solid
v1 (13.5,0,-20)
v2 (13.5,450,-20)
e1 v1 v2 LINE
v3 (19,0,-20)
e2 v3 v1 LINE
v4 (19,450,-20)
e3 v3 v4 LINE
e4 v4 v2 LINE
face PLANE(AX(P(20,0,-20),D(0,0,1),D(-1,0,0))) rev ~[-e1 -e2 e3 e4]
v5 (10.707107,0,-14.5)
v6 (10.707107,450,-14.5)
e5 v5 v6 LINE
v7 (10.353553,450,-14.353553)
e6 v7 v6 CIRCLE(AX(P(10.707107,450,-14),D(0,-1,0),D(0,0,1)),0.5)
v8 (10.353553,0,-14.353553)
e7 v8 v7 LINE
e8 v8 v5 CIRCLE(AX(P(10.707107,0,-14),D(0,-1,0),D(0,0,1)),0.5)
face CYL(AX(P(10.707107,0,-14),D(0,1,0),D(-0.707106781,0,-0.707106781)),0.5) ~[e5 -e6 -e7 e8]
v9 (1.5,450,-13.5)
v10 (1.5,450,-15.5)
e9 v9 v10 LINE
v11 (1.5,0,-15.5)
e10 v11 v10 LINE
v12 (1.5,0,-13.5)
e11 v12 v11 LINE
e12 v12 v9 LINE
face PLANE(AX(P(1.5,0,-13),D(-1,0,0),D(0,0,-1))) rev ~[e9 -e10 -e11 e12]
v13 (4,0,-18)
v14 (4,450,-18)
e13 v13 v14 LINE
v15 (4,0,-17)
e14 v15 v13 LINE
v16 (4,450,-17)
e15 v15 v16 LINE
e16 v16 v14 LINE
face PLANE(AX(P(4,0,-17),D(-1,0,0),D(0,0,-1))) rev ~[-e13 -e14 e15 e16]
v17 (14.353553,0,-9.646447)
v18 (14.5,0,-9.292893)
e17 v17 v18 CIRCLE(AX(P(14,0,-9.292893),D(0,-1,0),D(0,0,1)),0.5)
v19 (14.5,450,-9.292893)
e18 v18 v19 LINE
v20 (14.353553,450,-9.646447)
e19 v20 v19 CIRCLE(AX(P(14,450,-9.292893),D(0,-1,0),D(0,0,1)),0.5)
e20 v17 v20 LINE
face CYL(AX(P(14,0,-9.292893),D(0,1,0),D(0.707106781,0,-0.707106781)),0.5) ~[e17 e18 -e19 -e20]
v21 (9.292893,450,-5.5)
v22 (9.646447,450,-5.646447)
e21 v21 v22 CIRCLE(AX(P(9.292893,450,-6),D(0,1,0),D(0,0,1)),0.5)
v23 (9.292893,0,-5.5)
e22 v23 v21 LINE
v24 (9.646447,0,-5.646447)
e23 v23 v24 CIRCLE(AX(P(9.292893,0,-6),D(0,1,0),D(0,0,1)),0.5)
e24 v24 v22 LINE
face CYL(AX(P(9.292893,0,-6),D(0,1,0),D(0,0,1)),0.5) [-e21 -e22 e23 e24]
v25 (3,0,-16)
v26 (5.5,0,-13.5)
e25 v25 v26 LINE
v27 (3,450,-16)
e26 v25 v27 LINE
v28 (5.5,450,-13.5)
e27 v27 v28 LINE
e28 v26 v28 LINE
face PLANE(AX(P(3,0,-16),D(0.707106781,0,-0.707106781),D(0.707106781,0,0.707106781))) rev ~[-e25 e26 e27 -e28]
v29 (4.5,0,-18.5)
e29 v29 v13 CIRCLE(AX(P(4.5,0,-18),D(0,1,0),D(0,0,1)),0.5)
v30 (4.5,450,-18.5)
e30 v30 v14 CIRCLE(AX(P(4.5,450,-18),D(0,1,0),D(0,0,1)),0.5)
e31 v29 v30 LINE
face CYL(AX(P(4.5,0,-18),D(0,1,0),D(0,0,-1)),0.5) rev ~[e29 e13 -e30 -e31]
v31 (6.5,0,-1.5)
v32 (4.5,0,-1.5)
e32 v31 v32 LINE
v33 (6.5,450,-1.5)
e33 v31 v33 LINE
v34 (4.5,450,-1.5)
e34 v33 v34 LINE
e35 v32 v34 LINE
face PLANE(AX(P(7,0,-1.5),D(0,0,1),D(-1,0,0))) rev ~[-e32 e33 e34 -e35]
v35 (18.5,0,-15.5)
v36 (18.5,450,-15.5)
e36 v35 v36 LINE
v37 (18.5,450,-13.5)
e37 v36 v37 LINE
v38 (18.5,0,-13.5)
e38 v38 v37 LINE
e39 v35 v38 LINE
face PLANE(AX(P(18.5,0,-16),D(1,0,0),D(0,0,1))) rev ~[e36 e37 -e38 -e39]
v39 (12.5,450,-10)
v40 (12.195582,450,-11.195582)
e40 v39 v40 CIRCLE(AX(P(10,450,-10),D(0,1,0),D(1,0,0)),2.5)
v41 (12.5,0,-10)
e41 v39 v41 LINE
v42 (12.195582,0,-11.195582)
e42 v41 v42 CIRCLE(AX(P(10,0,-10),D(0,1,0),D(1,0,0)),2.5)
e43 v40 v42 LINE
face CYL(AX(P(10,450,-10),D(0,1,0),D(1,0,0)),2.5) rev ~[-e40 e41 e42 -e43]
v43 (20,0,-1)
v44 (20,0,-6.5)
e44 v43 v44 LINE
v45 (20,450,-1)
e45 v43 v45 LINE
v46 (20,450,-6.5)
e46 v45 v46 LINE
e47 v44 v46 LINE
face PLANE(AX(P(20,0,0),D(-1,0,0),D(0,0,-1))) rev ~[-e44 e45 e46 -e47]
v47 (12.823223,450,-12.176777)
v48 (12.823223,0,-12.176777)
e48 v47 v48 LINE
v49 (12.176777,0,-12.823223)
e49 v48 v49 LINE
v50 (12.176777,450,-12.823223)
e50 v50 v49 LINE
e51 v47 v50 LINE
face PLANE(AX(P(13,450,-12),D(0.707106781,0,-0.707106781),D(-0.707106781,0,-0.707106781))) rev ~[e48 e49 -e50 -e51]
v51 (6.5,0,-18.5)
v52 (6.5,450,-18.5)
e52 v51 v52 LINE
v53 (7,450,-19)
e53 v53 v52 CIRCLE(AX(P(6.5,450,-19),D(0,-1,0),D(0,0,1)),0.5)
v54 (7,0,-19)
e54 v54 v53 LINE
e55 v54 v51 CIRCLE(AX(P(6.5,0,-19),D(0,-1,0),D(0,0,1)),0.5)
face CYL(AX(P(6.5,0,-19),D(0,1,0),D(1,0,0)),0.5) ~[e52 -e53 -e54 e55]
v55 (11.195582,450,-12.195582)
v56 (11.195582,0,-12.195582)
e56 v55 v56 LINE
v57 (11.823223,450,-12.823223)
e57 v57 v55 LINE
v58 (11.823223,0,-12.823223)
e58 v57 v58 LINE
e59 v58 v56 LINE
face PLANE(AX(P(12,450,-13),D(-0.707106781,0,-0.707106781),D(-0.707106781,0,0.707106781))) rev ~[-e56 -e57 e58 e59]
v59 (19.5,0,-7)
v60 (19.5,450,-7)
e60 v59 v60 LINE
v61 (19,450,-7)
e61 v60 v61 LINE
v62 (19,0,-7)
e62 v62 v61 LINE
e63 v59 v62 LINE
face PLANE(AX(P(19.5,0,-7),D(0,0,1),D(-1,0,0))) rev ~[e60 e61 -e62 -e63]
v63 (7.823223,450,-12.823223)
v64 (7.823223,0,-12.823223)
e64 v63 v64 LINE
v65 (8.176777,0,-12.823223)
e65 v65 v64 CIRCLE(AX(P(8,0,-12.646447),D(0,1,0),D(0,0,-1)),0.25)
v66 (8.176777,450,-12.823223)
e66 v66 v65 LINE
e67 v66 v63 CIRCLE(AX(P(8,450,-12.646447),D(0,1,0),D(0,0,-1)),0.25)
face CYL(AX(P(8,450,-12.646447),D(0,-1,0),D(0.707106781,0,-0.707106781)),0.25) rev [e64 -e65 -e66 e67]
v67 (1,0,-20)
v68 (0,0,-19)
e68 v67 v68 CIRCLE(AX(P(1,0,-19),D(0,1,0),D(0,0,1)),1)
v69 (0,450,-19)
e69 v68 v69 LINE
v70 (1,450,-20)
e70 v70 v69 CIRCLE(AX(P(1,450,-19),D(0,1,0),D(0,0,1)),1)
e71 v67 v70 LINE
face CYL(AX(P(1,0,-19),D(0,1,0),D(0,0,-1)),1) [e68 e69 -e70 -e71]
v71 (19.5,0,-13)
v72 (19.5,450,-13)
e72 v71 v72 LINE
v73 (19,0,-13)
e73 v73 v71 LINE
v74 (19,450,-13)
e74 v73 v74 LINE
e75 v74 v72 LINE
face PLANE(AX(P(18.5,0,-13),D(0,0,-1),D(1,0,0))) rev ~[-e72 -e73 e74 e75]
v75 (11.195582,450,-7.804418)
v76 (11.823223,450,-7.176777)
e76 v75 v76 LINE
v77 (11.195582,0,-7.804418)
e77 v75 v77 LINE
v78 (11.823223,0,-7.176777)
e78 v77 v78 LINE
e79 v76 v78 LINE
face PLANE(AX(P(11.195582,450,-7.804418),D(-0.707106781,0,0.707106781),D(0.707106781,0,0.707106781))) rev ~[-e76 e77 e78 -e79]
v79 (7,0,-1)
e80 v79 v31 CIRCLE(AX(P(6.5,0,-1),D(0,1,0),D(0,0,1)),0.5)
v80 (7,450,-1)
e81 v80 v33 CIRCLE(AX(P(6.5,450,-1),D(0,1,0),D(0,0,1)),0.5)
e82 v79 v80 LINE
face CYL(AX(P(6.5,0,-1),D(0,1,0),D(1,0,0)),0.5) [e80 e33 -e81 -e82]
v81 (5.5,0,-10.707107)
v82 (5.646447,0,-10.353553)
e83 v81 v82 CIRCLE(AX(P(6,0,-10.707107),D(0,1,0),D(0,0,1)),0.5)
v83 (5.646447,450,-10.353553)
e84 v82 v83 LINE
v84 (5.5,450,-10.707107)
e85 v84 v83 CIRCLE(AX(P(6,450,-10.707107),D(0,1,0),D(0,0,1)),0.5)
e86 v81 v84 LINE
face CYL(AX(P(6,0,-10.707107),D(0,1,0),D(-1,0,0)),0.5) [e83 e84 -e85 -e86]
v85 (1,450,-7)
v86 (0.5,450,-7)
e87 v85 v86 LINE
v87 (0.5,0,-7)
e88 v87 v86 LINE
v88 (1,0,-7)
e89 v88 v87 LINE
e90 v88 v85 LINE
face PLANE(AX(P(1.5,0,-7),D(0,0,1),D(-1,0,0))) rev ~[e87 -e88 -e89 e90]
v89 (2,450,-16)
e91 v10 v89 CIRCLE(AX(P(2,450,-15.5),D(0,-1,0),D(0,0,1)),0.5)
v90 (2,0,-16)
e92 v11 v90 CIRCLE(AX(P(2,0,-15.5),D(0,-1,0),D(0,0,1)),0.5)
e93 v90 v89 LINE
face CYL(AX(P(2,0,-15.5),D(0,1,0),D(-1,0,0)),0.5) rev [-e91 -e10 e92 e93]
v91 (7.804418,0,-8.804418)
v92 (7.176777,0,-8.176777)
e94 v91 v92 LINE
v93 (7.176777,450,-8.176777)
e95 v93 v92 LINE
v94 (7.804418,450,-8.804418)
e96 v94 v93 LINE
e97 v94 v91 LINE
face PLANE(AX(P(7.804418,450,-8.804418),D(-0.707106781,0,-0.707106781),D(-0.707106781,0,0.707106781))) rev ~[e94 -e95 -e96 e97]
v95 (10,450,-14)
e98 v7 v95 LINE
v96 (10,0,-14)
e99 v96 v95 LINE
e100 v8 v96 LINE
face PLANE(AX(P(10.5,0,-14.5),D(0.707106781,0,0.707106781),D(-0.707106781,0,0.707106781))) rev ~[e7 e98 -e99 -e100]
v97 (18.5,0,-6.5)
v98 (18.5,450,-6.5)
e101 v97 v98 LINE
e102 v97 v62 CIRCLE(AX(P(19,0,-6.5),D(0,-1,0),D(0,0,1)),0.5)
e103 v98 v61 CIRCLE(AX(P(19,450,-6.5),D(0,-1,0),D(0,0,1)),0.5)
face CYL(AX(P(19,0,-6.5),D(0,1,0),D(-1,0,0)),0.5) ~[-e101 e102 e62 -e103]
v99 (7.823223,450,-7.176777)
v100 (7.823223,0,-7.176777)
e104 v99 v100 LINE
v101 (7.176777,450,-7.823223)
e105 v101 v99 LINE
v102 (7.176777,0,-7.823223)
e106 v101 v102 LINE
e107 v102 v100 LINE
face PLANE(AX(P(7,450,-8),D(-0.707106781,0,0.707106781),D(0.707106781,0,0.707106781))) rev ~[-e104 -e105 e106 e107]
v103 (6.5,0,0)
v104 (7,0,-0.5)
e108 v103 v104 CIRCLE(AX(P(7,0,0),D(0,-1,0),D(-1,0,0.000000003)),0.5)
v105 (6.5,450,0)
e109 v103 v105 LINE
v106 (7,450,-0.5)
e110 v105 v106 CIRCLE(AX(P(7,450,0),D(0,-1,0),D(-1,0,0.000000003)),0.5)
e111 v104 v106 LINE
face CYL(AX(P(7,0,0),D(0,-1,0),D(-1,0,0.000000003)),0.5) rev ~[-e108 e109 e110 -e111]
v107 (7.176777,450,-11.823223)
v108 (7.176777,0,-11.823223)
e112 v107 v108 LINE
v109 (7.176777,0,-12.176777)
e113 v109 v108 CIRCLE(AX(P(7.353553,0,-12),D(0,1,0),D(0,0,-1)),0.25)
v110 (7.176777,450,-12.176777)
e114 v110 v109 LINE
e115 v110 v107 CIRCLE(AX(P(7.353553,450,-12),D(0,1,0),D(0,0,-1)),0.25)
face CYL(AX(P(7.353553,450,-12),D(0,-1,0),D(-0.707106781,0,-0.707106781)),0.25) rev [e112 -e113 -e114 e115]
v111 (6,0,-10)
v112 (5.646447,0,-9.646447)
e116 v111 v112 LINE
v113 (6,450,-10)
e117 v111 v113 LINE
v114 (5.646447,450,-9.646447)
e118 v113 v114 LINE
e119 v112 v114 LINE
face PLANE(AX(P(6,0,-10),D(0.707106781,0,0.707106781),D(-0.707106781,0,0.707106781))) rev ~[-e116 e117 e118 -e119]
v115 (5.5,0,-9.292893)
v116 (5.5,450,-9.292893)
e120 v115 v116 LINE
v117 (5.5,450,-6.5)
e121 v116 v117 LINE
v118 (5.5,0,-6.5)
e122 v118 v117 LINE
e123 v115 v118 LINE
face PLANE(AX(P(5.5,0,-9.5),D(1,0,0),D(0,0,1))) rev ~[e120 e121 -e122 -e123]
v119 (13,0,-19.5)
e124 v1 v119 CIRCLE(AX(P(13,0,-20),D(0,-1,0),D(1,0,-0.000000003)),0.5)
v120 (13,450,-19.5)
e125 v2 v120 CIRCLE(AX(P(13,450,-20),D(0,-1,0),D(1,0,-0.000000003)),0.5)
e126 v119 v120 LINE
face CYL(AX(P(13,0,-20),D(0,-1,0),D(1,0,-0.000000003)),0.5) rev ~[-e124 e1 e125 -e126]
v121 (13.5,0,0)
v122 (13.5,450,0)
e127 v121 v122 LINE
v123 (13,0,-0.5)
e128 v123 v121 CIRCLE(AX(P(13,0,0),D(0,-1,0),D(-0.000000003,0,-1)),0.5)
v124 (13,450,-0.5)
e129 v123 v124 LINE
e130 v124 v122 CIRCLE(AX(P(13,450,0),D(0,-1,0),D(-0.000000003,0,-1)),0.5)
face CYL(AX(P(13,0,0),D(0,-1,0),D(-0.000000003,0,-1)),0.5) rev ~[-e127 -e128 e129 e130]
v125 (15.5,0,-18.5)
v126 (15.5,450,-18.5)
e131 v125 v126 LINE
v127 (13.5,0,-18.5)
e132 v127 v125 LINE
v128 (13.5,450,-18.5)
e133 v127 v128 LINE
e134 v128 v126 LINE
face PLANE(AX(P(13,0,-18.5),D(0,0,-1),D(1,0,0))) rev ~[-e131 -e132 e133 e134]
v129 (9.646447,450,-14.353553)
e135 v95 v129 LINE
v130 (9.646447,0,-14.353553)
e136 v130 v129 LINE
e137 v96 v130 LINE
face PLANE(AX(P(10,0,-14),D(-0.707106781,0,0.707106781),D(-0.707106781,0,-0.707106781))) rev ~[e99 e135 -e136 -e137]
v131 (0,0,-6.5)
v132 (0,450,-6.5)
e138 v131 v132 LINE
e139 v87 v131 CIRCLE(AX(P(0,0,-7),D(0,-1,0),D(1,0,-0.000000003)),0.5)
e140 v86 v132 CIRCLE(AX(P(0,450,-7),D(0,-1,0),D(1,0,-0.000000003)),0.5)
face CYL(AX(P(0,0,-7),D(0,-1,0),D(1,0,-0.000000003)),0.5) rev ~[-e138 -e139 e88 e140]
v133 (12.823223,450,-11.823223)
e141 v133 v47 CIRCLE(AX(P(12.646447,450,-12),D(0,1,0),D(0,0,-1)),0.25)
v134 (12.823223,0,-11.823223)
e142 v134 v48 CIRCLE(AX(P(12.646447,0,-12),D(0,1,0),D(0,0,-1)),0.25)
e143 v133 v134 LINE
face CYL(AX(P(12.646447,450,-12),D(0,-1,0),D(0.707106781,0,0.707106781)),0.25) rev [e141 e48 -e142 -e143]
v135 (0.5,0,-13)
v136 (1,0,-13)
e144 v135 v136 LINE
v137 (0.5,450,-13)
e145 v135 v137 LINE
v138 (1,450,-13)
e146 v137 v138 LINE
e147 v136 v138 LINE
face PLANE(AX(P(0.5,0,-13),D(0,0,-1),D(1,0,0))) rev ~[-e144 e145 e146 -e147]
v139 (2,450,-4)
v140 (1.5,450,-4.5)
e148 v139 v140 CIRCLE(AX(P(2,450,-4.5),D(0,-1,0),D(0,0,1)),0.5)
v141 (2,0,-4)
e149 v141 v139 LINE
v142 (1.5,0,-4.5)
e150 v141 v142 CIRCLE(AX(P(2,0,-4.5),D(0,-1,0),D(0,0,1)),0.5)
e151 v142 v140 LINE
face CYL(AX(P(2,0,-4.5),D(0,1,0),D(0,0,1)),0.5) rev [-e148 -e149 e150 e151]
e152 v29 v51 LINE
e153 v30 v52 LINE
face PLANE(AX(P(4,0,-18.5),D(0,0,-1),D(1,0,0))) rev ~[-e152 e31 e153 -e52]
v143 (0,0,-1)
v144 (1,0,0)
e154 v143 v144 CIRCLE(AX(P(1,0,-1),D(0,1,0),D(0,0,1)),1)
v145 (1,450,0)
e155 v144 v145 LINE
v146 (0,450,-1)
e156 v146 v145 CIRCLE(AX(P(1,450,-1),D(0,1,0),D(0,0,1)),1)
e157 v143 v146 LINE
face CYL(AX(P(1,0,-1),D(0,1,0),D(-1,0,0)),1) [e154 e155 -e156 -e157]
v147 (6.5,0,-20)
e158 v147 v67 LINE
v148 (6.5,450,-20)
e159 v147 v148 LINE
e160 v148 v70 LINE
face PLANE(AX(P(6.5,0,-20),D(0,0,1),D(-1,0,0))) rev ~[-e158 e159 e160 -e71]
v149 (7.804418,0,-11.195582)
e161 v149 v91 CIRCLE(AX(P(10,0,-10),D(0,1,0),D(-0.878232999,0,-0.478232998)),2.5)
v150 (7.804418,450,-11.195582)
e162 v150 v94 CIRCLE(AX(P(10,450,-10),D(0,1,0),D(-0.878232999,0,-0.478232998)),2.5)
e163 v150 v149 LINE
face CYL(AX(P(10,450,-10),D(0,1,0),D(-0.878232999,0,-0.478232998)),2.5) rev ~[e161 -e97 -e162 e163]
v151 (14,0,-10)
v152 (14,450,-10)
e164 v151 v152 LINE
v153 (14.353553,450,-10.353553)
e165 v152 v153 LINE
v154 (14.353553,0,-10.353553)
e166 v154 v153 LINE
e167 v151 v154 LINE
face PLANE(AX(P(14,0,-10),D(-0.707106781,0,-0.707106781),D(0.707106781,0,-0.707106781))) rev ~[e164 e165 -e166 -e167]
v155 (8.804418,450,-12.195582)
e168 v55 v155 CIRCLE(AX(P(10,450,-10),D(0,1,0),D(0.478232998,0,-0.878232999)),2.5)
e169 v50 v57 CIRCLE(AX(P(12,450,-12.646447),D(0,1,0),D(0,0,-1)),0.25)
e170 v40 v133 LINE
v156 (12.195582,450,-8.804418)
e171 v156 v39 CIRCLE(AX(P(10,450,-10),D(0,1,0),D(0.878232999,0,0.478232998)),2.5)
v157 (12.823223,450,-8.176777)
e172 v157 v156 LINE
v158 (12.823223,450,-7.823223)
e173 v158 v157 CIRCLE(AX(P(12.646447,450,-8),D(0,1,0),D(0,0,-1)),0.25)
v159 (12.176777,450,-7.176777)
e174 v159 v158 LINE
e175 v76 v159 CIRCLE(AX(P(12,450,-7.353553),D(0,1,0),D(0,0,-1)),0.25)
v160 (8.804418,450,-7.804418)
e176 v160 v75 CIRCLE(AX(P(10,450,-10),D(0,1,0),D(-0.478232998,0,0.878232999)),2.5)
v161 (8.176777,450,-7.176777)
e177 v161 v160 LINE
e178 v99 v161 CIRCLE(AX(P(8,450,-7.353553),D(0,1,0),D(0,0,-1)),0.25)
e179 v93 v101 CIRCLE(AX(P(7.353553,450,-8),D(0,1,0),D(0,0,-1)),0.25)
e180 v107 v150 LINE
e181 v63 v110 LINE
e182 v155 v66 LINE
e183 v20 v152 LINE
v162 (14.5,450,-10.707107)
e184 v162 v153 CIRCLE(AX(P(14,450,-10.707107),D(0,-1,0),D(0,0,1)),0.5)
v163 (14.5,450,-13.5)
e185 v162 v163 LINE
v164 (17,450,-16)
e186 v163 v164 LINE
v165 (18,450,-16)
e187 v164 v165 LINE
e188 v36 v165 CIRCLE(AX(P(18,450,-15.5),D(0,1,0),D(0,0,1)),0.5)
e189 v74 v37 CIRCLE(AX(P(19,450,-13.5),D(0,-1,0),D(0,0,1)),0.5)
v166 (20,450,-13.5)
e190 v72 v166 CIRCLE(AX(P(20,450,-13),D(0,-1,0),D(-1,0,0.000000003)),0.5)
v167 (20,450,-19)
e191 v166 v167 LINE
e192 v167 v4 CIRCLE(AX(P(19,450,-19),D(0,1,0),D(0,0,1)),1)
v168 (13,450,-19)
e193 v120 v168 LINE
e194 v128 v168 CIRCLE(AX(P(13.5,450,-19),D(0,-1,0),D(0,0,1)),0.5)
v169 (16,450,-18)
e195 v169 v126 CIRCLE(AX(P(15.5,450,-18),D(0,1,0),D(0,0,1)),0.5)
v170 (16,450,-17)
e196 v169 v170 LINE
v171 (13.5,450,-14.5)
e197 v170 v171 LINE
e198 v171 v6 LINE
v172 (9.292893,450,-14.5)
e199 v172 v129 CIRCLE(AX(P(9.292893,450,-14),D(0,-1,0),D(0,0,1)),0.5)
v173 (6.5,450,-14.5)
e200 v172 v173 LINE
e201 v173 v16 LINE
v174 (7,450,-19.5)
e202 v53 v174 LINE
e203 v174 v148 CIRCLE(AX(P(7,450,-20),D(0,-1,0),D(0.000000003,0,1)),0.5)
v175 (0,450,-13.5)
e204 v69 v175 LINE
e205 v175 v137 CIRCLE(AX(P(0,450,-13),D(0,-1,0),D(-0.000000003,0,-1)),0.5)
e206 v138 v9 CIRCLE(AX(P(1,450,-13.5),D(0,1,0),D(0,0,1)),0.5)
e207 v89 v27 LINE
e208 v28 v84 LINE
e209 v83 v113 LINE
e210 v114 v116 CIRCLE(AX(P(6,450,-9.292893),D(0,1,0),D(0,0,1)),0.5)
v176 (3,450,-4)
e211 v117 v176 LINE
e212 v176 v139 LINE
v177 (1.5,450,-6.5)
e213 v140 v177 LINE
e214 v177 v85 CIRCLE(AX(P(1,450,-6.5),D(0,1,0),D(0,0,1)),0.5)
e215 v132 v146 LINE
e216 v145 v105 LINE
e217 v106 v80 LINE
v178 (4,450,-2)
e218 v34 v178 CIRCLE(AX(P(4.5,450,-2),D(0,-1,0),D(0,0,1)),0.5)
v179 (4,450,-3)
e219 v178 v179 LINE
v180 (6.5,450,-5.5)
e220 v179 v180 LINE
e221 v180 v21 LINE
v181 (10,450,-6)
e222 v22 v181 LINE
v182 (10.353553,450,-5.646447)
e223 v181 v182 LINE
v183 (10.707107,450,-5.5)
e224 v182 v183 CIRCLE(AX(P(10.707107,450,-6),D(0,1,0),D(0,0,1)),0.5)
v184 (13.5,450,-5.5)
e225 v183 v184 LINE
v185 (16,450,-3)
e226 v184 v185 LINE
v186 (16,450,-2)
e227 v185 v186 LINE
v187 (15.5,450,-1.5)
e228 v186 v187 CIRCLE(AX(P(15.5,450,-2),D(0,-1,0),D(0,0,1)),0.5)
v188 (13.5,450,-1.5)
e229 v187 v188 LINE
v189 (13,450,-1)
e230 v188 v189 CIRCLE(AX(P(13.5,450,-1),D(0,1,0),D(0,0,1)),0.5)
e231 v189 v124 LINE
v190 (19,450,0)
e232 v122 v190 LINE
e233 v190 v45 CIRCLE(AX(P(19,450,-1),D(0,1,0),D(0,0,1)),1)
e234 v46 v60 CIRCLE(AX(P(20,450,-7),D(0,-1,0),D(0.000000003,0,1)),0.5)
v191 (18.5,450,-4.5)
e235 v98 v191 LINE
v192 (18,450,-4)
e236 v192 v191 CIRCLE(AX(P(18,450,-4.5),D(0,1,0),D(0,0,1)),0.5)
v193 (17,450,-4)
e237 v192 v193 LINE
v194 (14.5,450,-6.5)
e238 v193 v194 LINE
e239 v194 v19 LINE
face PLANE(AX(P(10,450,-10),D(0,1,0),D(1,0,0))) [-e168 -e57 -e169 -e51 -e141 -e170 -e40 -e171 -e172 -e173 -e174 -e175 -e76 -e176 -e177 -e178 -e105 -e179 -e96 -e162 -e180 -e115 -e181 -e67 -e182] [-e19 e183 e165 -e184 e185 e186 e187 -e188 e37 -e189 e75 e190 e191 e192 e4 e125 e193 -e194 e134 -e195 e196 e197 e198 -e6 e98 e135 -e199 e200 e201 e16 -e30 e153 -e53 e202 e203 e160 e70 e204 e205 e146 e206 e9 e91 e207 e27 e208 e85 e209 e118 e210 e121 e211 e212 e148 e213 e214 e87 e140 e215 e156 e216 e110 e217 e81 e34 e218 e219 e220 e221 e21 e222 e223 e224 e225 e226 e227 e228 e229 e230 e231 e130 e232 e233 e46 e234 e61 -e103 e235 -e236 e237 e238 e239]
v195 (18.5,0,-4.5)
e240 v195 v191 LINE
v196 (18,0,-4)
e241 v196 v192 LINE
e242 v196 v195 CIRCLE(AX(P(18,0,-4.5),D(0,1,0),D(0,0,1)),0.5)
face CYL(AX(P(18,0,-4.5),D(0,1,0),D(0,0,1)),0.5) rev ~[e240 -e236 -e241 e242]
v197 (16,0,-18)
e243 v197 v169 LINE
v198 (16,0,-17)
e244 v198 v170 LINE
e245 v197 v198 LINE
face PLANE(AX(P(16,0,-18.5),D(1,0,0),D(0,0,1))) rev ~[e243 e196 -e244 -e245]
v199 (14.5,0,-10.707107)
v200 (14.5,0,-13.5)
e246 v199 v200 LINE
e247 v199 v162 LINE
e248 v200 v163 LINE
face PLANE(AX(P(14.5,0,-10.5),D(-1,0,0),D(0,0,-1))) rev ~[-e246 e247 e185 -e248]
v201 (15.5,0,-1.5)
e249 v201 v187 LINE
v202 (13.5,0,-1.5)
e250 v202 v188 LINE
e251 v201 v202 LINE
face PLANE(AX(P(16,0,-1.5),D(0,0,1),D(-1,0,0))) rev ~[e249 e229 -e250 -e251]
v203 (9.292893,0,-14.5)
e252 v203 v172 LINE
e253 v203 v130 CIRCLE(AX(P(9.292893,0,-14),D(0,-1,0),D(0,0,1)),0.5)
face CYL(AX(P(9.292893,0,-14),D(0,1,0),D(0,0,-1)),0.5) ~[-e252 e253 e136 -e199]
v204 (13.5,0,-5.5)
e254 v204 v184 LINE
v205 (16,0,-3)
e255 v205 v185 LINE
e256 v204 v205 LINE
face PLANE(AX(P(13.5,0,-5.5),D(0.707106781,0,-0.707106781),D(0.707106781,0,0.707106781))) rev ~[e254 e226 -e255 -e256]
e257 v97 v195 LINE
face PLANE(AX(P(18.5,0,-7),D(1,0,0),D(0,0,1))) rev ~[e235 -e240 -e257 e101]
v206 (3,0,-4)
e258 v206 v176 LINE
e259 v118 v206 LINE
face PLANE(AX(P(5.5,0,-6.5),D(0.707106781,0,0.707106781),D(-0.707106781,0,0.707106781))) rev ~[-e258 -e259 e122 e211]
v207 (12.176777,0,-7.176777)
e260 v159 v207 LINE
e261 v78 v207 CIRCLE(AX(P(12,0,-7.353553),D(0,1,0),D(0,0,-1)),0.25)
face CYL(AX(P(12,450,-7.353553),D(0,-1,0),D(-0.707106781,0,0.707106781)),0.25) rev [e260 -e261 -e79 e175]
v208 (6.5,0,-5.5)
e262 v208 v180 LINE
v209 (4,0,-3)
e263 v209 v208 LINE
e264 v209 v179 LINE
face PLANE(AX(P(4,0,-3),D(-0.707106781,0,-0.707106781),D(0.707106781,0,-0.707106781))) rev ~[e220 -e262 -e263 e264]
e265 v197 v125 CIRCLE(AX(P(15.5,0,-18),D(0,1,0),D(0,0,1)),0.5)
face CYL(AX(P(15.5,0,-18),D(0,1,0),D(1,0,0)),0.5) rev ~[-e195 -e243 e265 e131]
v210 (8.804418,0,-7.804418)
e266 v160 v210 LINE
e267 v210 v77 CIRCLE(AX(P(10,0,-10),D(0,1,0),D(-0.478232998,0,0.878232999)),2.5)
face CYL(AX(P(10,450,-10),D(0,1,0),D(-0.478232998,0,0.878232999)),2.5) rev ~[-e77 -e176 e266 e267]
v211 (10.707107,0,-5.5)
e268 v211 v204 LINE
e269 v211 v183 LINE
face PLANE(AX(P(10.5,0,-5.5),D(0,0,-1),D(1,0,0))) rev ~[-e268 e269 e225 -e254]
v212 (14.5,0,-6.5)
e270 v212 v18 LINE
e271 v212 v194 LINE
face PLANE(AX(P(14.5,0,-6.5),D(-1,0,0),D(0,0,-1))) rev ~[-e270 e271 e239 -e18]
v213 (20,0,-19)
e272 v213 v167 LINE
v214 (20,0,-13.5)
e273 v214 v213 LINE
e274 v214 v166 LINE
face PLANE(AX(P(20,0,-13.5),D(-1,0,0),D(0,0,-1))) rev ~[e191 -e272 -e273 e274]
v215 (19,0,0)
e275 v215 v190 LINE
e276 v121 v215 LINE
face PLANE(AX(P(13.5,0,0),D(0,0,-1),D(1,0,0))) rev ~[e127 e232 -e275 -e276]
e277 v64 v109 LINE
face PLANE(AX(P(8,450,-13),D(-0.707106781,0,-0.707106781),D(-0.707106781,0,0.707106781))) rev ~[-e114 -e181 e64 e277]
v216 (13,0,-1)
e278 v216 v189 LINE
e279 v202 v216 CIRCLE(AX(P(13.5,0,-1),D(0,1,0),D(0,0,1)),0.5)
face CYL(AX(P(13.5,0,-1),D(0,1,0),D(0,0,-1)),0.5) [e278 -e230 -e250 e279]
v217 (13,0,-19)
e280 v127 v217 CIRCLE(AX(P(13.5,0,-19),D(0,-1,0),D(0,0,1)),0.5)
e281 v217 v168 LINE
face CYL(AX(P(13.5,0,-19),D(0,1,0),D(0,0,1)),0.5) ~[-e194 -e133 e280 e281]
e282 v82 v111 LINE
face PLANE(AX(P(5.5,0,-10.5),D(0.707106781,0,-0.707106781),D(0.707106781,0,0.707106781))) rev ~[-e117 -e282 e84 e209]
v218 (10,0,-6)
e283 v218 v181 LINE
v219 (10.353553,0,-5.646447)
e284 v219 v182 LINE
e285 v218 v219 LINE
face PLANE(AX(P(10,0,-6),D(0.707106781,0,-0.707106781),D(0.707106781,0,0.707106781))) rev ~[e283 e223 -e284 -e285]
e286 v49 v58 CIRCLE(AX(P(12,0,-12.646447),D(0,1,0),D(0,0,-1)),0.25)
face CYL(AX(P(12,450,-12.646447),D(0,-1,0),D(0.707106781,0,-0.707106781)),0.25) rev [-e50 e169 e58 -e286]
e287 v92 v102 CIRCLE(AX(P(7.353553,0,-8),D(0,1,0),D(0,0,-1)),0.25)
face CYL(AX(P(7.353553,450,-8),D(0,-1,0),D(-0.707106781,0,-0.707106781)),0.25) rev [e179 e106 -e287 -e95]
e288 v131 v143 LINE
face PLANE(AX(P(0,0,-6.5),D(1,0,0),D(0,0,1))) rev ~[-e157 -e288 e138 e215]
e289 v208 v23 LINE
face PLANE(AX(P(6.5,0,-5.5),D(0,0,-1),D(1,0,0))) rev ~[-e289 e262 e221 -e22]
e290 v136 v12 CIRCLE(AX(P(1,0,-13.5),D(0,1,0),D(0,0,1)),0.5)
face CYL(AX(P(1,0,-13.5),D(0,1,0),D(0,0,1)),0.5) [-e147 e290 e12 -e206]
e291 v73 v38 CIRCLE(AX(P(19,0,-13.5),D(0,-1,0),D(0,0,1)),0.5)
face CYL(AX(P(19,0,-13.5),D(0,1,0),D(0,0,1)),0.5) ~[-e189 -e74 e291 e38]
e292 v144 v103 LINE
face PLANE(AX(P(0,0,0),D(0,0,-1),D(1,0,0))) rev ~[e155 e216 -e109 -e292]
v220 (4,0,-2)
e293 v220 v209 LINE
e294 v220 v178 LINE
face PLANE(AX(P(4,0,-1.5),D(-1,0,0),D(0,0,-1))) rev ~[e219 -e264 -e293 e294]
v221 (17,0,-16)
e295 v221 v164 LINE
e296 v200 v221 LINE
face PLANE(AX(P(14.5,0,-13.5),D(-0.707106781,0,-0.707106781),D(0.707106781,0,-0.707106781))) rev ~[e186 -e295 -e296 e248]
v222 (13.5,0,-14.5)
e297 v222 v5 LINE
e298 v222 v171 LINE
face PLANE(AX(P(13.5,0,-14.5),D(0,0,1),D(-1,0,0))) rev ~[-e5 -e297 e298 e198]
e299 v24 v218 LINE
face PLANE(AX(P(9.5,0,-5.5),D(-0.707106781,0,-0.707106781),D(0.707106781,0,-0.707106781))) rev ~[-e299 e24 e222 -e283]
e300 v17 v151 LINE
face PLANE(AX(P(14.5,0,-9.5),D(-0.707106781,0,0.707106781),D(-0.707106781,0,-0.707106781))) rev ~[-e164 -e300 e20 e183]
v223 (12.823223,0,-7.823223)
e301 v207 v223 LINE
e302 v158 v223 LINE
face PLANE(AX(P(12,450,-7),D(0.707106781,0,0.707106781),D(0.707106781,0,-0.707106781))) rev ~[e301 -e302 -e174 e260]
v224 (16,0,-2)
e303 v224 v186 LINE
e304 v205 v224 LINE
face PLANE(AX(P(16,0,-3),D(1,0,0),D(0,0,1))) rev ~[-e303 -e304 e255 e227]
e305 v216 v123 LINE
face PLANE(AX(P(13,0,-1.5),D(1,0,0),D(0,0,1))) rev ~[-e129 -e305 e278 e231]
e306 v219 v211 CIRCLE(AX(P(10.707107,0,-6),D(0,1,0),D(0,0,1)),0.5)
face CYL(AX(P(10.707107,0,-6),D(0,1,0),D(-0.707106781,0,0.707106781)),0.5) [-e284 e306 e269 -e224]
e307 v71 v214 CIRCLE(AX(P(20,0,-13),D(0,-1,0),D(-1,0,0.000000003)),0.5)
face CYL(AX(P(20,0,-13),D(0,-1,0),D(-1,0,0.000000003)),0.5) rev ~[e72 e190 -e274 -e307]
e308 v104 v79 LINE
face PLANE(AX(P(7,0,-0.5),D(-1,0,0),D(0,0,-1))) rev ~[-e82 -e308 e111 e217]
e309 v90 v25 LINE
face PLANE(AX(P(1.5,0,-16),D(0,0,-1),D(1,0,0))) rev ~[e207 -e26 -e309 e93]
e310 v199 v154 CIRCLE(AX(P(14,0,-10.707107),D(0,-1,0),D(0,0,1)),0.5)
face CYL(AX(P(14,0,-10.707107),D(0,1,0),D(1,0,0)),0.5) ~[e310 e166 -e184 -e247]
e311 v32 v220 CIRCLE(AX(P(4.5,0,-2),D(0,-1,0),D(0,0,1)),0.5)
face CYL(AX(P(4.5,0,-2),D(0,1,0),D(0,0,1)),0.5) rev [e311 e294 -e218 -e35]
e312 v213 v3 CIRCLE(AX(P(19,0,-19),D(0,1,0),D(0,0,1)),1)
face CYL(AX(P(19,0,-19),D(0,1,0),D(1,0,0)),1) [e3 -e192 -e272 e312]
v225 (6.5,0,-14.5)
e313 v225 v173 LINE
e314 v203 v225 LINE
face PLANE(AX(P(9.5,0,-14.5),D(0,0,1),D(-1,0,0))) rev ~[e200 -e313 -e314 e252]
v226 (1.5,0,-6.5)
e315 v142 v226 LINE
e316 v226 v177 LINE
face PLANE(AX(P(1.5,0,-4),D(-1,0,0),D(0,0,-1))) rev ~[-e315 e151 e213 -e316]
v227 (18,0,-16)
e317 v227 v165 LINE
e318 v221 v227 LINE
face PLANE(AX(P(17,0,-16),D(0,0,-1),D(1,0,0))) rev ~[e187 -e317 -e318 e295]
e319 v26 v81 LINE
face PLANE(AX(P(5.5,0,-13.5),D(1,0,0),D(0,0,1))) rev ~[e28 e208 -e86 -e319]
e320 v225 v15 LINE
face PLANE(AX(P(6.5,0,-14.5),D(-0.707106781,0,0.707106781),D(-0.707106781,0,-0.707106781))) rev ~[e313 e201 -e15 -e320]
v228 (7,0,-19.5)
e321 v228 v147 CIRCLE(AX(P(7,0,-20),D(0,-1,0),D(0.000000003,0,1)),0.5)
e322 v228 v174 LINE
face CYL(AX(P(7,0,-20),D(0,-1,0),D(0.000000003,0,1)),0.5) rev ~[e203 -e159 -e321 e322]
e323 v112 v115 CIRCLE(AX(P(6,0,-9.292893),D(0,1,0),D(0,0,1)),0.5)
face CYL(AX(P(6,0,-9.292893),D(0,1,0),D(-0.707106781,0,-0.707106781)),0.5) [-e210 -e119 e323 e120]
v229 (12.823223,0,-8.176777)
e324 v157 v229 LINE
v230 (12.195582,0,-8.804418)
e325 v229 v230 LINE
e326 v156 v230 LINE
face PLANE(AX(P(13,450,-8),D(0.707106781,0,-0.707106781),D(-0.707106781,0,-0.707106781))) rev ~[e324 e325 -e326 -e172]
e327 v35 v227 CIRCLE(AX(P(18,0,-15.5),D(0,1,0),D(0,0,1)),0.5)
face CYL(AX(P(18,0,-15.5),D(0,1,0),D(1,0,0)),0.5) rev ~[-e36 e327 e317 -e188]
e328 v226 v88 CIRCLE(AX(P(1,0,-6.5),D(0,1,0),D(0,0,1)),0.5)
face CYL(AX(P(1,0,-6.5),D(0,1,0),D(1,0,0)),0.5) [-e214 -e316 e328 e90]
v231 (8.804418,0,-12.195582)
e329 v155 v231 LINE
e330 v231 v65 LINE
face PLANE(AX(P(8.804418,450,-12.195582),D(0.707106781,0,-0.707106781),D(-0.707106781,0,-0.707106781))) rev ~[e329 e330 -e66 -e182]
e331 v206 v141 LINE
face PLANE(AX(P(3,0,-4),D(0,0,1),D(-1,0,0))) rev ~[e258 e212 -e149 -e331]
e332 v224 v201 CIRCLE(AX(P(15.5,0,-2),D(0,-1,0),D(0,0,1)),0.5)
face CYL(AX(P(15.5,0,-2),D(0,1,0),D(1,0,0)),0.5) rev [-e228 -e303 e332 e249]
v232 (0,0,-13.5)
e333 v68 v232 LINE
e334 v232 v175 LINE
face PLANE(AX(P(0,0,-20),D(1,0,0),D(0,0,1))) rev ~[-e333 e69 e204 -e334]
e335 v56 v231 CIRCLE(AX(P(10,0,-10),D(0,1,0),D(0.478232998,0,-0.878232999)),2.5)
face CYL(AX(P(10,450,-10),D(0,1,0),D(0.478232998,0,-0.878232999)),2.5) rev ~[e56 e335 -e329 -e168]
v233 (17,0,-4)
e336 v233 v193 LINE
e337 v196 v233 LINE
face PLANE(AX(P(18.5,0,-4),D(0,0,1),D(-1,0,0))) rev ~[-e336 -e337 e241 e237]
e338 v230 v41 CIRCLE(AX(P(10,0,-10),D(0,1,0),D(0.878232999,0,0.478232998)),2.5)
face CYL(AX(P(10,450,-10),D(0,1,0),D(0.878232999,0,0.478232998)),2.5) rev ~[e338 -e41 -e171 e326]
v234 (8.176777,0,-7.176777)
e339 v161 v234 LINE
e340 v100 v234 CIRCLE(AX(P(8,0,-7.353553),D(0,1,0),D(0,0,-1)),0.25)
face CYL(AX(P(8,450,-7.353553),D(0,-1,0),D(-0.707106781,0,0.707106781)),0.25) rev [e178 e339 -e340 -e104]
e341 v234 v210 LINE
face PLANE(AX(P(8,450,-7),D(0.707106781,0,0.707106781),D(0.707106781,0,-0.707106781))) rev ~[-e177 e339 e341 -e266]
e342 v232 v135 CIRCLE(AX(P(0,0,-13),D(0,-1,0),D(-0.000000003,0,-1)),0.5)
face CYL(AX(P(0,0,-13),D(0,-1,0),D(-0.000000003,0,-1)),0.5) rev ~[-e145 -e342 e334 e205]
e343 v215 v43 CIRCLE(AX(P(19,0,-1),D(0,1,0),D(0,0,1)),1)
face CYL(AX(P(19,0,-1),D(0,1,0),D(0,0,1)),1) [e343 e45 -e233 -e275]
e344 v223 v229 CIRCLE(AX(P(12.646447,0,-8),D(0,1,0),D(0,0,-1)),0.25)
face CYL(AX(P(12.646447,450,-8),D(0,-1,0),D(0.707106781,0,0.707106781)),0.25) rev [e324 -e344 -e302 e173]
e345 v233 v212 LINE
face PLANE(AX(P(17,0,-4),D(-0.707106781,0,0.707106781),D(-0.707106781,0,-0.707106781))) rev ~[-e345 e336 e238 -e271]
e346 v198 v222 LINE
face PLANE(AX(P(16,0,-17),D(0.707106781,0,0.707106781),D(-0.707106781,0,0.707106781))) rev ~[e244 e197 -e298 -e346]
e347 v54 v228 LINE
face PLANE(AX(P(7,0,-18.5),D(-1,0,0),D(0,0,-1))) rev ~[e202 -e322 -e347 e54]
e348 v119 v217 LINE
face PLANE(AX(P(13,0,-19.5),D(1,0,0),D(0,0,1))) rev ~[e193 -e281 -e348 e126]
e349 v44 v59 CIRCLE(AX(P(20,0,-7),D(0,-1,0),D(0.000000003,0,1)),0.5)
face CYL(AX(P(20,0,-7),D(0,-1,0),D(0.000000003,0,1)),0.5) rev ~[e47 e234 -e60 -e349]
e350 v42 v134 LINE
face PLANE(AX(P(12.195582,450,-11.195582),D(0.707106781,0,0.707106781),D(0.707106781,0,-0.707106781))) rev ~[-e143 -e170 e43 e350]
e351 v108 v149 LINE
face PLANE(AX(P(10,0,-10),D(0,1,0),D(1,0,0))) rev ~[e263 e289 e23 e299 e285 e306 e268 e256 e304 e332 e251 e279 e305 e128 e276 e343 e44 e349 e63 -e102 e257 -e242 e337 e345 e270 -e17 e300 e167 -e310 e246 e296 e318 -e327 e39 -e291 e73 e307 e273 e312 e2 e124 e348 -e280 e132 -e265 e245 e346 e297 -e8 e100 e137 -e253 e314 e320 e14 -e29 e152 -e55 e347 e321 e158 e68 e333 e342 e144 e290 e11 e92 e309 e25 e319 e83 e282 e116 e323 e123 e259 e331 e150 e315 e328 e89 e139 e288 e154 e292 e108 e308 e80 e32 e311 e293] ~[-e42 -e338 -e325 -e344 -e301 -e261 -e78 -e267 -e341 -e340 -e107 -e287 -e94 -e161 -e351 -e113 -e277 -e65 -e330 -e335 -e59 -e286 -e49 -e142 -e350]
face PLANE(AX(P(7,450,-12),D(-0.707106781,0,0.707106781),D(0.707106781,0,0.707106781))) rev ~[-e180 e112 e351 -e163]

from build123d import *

# Parameters (mm, degrees)
BOSS_EXTRUDE1_DEPTH = 450
FILLET1_R           = 1
CUT_EXTRUDE1_DEPTH  = 451
FILLET2_R           = 0.5
FILLET3_R           = 0.25


with BuildPart() as part:
    # Sketch3 → Boss-Extrude1 (new body)
    with BuildSketch(Plane(origin=(0, 0, 0), x_dir=(1, 0, 0), z_dir=(0, 1, 0))):
        with BuildLine():
            Line((7, 18.5), (7, 19.5))
            ThreePointArc((7, 19.5), (6.646446609, 19.646446609), (6.5, 20))
            Line((6.5, 20), (0, 20))
            Line((0, 20), (0, 13.5))
            ThreePointArc((0, 13.5), (0.353553391, 13.353553391), (0.5, 13))
            Line((0.5, 13), (1.5, 13))
            Line((1.5, 13), (1.5, 16))
            Line((1.5, 16), (3, 16))
            Line((3, 16), (5.5, 13.5))
            Line((5.5, 13.5), (5.5, 10.5))
            Line((5.5, 10.5), (6, 10))
            Line((6, 10), (5.5, 9.5))
            Line((5.5, 9.5), (5.5, 6.5))
            Line((5.5, 6.5), (3, 4))
            Line((3, 4), (1.5, 4))
            Line((1.5, 4), (1.5, 7))
            Line((1.5, 7), (0.5, 7))
            ThreePointArc((0.5, 7), (0.353553391, 6.646446609), (0, 6.5))
            Line((0, 6.5), (0, 0))
            Line((0, 0), (6.5, 0))
            ThreePointArc((6.5, 0), (6.646446609, 0.353553391), (7, 0.5))
            Line((7, 0.5), (7, 1.5))
            Line((7, 1.5), (4, 1.5))
            Line((4, 1.5), (4, 3))
            Line((4, 3), (6.5, 5.5))
            Line((6.5, 5.5), (9.5, 5.5))
            Line((9.5, 5.5), (10, 6))
            Line((10, 6), (10.5, 5.5))
            Line((10.5, 5.5), (13.5, 5.5))
            Line((13.5, 5.5), (16, 3))
            Line((16, 3), (16, 1.5))
            Line((16, 1.5), (13, 1.5))
            Line((13, 1.5), (13, 0.5))
            ThreePointArc((13, 0.5), (13.353553391, 0.353553391), (13.5, 0))
            Line((13.5, 0), (20, 0))
            Line((20, 0), (20, 6.5))
            ThreePointArc((20, 6.5), (19.646446609, 6.646446609), (19.5, 7))
            Line((19.5, 7), (18.5, 7))
            Line((18.5, 7), (18.5, 4))
            Line((18.5, 4), (17, 4))
            Line((17, 4), (14.5, 6.5))
            Line((14.5, 6.5), (14.5, 9.5))
            Line((14.5, 9.5), (14, 10))
            Line((14, 10), (14.5, 10.5))
            Line((14.5, 10.5), (14.5, 13.5))
            Line((14.5, 13.5), (17, 16))
            Line((17, 16), (18.5, 16))
            Line((18.5, 16), (18.5, 13))
            Line((18.5, 13), (19.5, 13))
            ThreePointArc((19.5, 13), (19.646446609, 13.353553391), (20, 13.5))
            Line((20, 13.5), (20, 20))
            Line((20, 20), (13.5, 20))
            ThreePointArc((13.5, 20), (13.353553391, 19.646446609), (13, 19.5))
            Line((13, 19.5), (13, 18.5))
            Line((13, 18.5), (16, 18.5))
            Line((16, 18.5), (16, 17))
            Line((16, 17), (13.5, 14.5))
            Line((13.5, 14.5), (10.5, 14.5))
            Line((10.5, 14.5), (10, 14))
            Line((10, 14), (9.5, 14.5))
            Line((9.5, 14.5), (6.5, 14.5))
            Line((6.5, 14.5), (4, 17))
            Line((4, 17), (4, 18.5))
            Line((4, 18.5), (7, 18.5))
        make_face()
    extrude(amount=BOSS_EXTRUDE1_DEPTH)

    # Fillet1
    fillet1_edges = [part.edges().sort_by_distance(p)[0] for p in [
        (20, 225, 0),
        (0, 225, 0),
        (0, 225, -20),
        (20, 225, -20),
    ]]
    fillet(fillet1_edges, radius=FILLET1_R)

    # Sketch4 → Cut-Extrude1 (cut, through all)
    with BuildSketch(Plane(origin=(0, 450, 0), x_dir=(1, 0, 0), z_dir=(0, 1, 0))):
        with BuildLine():
            Line((10, 11), (11.195582496, 12.195582496))
            ThreePointArc((11.195582496, 12.195582496), (10, 12.5), (8.804417504, 12.195582496))
            Line((8.804417504, 12.195582496), (10, 11))
        make_face()
        with BuildLine():
            ThreePointArc((12.195582496, 11.195582496), (11.767766953, 11.767766953), (11.195582496, 12.195582496))
            Line((11.195582496, 12.195582496), (10, 11))
            Line((10, 11), (11, 10))
            Line((11, 10), (12.195582496, 11.195582496))
        make_face()
        with BuildLine():
            Line((9, 10), (10, 11))
            Line((10, 11), (8.804417504, 12.195582496))
            ThreePointArc((8.804417504, 12.195582496), (8.232233047, 11.767766953), (7.804417504, 11.195582496))
            Line((7.804417504, 11.195582496), (9, 10))
        make_face()
        Polygon((11, 10), (10, 11), (9, 10), (10, 9), align=None)
        with BuildLine():
            Line((7.804417504, 8.804417504), (9, 10))
            Line((9, 10), (7.804417504, 11.195582496))
            ThreePointArc((7.804417504, 11.195582496), (7.5, 10), (7.804417504, 8.804417504))
        make_face()
        with BuildLine():
            Line((10, 9), (9, 10))
            Line((9, 10), (7.804417504, 8.804417504))
            ThreePointArc((7.804417504, 8.804417504), (8.232233047, 8.232233047), (8.804417504, 7.804417504))
            Line((8.804417504, 7.804417504), (10, 9))
        make_face()
        with BuildLine():
            Line((11.195582496, 7.804417504), (10, 9))
            Line((10, 9), (8.804417504, 7.804417504))
            ThreePointArc((8.804417504, 7.804417504), (10, 7.5), (11.195582496, 7.804417504))
        make_face()
        with BuildLine():
            Line((12.195582496, 8.804417504), (11, 10))
            Line((11, 10), (10, 9))
            Line((10, 9), (11.195582496, 7.804417504))
            ThreePointArc((11.195582496, 7.804417504), (11.767766953, 8.232233047), (12.195582496, 8.804417504))
        make_face()
        with BuildLine():
            ThreePointArc((12.5, 10), (12.422700584, 10.616864556), (12.195582496, 11.195582496))
            Line((12.195582496, 11.195582496), (11, 10))
            Line((11, 10), (12.195582496, 8.804417504))
            ThreePointArc((12.195582496, 8.804417504), (12.422700584, 9.383135444), (12.5, 10))
        make_face()
        with BuildLine():
            ThreePointArc((8.804417504, 7.804417504), (8.232233047, 8.232233047), (7.804417504, 8.804417504))
            Line((7.804417504, 8.804417504), (7, 8))
            Line((7, 8), (8, 7))
            Line((8, 7), (8.804417504, 7.804417504))
        make_face()
        with BuildLine():
            Line((13, 8), (12.195582496, 8.804417504))
            ThreePointArc((12.195582496, 8.804417504), (11.767766953, 8.232233047), (11.195582496, 7.804417504))
            Line((11.195582496, 7.804417504), (12, 7))
            Line((12, 7), (13, 8))
        make_face()
        with BuildLine():
            Line((13, 12), (12, 13))
            Line((12, 13), (11.195582496, 12.195582496))
            ThreePointArc((11.195582496, 12.195582496), (11.767766953, 11.767766953), (12.195582496, 11.195582496))
            Line((12.195582496, 11.195582496), (13, 12))
        make_face()
        with BuildLine():
            ThreePointArc((7.804417504, 11.195582496), (8.232233047, 11.767766953), (8.804417504, 12.195582496))
            Line((8.804417504, 12.195582496), (8, 13))
            Line((8, 13), (7, 12))
            Line((7, 12), (7.804417504, 11.195582496))
        make_face()
    extrude(amount=-CUT_EXTRUDE1_DEPTH, mode=Mode.SUBTRACT)

    # Fillet2
    fillet2_edges = [part.edges().sort_by_distance(p)[0] for p in [
        (18.5, 225, -13),
        (18.5, 225, -16),
        (14.5, 225, -10.5),
        (14.5, 225, -9.5),
        (18.5, 225, -4),
        (18.5, 225, -7),
        (13, 225, -1.5),
        (16, 225, -1.5),
        (10.5, 225, -5.5),
        (9.5, 225, -5.5),
        (4, 225, -1.5),
        (7, 225, -1.5),
        (1.5, 225, -7),
        (1.5, 225, -4),
        (5.5, 225, -9.5),
        (5.5, 225, -10.5),
        (1.5, 225, -16),
        (1.5, 225, -13),
        (7, 225, -18.5),
        (4, 225, -18.5),
        (9.5, 225, -14.5),
        (10.5, 225, -14.5),
        (16, 225, -18.5),
        (13, 225, -18.5),
    ]]
    fillet(fillet2_edges, radius=FILLET2_R)

    # Fillet3
    fillet3_edges = [part.edges().sort_by_distance(p)[0] for p in [
        (7, 225, -12),
        (8, 225, -13),
        (12, 225, -13),
        (13, 225, -12),
        (13, 225, -8),
        (12, 225, -7),
        (8, 225, -7),
        (7, 225, -8),
    ]]
    fillet(fillet3_edges, radius=FILLET3_R)


solid = part.part
